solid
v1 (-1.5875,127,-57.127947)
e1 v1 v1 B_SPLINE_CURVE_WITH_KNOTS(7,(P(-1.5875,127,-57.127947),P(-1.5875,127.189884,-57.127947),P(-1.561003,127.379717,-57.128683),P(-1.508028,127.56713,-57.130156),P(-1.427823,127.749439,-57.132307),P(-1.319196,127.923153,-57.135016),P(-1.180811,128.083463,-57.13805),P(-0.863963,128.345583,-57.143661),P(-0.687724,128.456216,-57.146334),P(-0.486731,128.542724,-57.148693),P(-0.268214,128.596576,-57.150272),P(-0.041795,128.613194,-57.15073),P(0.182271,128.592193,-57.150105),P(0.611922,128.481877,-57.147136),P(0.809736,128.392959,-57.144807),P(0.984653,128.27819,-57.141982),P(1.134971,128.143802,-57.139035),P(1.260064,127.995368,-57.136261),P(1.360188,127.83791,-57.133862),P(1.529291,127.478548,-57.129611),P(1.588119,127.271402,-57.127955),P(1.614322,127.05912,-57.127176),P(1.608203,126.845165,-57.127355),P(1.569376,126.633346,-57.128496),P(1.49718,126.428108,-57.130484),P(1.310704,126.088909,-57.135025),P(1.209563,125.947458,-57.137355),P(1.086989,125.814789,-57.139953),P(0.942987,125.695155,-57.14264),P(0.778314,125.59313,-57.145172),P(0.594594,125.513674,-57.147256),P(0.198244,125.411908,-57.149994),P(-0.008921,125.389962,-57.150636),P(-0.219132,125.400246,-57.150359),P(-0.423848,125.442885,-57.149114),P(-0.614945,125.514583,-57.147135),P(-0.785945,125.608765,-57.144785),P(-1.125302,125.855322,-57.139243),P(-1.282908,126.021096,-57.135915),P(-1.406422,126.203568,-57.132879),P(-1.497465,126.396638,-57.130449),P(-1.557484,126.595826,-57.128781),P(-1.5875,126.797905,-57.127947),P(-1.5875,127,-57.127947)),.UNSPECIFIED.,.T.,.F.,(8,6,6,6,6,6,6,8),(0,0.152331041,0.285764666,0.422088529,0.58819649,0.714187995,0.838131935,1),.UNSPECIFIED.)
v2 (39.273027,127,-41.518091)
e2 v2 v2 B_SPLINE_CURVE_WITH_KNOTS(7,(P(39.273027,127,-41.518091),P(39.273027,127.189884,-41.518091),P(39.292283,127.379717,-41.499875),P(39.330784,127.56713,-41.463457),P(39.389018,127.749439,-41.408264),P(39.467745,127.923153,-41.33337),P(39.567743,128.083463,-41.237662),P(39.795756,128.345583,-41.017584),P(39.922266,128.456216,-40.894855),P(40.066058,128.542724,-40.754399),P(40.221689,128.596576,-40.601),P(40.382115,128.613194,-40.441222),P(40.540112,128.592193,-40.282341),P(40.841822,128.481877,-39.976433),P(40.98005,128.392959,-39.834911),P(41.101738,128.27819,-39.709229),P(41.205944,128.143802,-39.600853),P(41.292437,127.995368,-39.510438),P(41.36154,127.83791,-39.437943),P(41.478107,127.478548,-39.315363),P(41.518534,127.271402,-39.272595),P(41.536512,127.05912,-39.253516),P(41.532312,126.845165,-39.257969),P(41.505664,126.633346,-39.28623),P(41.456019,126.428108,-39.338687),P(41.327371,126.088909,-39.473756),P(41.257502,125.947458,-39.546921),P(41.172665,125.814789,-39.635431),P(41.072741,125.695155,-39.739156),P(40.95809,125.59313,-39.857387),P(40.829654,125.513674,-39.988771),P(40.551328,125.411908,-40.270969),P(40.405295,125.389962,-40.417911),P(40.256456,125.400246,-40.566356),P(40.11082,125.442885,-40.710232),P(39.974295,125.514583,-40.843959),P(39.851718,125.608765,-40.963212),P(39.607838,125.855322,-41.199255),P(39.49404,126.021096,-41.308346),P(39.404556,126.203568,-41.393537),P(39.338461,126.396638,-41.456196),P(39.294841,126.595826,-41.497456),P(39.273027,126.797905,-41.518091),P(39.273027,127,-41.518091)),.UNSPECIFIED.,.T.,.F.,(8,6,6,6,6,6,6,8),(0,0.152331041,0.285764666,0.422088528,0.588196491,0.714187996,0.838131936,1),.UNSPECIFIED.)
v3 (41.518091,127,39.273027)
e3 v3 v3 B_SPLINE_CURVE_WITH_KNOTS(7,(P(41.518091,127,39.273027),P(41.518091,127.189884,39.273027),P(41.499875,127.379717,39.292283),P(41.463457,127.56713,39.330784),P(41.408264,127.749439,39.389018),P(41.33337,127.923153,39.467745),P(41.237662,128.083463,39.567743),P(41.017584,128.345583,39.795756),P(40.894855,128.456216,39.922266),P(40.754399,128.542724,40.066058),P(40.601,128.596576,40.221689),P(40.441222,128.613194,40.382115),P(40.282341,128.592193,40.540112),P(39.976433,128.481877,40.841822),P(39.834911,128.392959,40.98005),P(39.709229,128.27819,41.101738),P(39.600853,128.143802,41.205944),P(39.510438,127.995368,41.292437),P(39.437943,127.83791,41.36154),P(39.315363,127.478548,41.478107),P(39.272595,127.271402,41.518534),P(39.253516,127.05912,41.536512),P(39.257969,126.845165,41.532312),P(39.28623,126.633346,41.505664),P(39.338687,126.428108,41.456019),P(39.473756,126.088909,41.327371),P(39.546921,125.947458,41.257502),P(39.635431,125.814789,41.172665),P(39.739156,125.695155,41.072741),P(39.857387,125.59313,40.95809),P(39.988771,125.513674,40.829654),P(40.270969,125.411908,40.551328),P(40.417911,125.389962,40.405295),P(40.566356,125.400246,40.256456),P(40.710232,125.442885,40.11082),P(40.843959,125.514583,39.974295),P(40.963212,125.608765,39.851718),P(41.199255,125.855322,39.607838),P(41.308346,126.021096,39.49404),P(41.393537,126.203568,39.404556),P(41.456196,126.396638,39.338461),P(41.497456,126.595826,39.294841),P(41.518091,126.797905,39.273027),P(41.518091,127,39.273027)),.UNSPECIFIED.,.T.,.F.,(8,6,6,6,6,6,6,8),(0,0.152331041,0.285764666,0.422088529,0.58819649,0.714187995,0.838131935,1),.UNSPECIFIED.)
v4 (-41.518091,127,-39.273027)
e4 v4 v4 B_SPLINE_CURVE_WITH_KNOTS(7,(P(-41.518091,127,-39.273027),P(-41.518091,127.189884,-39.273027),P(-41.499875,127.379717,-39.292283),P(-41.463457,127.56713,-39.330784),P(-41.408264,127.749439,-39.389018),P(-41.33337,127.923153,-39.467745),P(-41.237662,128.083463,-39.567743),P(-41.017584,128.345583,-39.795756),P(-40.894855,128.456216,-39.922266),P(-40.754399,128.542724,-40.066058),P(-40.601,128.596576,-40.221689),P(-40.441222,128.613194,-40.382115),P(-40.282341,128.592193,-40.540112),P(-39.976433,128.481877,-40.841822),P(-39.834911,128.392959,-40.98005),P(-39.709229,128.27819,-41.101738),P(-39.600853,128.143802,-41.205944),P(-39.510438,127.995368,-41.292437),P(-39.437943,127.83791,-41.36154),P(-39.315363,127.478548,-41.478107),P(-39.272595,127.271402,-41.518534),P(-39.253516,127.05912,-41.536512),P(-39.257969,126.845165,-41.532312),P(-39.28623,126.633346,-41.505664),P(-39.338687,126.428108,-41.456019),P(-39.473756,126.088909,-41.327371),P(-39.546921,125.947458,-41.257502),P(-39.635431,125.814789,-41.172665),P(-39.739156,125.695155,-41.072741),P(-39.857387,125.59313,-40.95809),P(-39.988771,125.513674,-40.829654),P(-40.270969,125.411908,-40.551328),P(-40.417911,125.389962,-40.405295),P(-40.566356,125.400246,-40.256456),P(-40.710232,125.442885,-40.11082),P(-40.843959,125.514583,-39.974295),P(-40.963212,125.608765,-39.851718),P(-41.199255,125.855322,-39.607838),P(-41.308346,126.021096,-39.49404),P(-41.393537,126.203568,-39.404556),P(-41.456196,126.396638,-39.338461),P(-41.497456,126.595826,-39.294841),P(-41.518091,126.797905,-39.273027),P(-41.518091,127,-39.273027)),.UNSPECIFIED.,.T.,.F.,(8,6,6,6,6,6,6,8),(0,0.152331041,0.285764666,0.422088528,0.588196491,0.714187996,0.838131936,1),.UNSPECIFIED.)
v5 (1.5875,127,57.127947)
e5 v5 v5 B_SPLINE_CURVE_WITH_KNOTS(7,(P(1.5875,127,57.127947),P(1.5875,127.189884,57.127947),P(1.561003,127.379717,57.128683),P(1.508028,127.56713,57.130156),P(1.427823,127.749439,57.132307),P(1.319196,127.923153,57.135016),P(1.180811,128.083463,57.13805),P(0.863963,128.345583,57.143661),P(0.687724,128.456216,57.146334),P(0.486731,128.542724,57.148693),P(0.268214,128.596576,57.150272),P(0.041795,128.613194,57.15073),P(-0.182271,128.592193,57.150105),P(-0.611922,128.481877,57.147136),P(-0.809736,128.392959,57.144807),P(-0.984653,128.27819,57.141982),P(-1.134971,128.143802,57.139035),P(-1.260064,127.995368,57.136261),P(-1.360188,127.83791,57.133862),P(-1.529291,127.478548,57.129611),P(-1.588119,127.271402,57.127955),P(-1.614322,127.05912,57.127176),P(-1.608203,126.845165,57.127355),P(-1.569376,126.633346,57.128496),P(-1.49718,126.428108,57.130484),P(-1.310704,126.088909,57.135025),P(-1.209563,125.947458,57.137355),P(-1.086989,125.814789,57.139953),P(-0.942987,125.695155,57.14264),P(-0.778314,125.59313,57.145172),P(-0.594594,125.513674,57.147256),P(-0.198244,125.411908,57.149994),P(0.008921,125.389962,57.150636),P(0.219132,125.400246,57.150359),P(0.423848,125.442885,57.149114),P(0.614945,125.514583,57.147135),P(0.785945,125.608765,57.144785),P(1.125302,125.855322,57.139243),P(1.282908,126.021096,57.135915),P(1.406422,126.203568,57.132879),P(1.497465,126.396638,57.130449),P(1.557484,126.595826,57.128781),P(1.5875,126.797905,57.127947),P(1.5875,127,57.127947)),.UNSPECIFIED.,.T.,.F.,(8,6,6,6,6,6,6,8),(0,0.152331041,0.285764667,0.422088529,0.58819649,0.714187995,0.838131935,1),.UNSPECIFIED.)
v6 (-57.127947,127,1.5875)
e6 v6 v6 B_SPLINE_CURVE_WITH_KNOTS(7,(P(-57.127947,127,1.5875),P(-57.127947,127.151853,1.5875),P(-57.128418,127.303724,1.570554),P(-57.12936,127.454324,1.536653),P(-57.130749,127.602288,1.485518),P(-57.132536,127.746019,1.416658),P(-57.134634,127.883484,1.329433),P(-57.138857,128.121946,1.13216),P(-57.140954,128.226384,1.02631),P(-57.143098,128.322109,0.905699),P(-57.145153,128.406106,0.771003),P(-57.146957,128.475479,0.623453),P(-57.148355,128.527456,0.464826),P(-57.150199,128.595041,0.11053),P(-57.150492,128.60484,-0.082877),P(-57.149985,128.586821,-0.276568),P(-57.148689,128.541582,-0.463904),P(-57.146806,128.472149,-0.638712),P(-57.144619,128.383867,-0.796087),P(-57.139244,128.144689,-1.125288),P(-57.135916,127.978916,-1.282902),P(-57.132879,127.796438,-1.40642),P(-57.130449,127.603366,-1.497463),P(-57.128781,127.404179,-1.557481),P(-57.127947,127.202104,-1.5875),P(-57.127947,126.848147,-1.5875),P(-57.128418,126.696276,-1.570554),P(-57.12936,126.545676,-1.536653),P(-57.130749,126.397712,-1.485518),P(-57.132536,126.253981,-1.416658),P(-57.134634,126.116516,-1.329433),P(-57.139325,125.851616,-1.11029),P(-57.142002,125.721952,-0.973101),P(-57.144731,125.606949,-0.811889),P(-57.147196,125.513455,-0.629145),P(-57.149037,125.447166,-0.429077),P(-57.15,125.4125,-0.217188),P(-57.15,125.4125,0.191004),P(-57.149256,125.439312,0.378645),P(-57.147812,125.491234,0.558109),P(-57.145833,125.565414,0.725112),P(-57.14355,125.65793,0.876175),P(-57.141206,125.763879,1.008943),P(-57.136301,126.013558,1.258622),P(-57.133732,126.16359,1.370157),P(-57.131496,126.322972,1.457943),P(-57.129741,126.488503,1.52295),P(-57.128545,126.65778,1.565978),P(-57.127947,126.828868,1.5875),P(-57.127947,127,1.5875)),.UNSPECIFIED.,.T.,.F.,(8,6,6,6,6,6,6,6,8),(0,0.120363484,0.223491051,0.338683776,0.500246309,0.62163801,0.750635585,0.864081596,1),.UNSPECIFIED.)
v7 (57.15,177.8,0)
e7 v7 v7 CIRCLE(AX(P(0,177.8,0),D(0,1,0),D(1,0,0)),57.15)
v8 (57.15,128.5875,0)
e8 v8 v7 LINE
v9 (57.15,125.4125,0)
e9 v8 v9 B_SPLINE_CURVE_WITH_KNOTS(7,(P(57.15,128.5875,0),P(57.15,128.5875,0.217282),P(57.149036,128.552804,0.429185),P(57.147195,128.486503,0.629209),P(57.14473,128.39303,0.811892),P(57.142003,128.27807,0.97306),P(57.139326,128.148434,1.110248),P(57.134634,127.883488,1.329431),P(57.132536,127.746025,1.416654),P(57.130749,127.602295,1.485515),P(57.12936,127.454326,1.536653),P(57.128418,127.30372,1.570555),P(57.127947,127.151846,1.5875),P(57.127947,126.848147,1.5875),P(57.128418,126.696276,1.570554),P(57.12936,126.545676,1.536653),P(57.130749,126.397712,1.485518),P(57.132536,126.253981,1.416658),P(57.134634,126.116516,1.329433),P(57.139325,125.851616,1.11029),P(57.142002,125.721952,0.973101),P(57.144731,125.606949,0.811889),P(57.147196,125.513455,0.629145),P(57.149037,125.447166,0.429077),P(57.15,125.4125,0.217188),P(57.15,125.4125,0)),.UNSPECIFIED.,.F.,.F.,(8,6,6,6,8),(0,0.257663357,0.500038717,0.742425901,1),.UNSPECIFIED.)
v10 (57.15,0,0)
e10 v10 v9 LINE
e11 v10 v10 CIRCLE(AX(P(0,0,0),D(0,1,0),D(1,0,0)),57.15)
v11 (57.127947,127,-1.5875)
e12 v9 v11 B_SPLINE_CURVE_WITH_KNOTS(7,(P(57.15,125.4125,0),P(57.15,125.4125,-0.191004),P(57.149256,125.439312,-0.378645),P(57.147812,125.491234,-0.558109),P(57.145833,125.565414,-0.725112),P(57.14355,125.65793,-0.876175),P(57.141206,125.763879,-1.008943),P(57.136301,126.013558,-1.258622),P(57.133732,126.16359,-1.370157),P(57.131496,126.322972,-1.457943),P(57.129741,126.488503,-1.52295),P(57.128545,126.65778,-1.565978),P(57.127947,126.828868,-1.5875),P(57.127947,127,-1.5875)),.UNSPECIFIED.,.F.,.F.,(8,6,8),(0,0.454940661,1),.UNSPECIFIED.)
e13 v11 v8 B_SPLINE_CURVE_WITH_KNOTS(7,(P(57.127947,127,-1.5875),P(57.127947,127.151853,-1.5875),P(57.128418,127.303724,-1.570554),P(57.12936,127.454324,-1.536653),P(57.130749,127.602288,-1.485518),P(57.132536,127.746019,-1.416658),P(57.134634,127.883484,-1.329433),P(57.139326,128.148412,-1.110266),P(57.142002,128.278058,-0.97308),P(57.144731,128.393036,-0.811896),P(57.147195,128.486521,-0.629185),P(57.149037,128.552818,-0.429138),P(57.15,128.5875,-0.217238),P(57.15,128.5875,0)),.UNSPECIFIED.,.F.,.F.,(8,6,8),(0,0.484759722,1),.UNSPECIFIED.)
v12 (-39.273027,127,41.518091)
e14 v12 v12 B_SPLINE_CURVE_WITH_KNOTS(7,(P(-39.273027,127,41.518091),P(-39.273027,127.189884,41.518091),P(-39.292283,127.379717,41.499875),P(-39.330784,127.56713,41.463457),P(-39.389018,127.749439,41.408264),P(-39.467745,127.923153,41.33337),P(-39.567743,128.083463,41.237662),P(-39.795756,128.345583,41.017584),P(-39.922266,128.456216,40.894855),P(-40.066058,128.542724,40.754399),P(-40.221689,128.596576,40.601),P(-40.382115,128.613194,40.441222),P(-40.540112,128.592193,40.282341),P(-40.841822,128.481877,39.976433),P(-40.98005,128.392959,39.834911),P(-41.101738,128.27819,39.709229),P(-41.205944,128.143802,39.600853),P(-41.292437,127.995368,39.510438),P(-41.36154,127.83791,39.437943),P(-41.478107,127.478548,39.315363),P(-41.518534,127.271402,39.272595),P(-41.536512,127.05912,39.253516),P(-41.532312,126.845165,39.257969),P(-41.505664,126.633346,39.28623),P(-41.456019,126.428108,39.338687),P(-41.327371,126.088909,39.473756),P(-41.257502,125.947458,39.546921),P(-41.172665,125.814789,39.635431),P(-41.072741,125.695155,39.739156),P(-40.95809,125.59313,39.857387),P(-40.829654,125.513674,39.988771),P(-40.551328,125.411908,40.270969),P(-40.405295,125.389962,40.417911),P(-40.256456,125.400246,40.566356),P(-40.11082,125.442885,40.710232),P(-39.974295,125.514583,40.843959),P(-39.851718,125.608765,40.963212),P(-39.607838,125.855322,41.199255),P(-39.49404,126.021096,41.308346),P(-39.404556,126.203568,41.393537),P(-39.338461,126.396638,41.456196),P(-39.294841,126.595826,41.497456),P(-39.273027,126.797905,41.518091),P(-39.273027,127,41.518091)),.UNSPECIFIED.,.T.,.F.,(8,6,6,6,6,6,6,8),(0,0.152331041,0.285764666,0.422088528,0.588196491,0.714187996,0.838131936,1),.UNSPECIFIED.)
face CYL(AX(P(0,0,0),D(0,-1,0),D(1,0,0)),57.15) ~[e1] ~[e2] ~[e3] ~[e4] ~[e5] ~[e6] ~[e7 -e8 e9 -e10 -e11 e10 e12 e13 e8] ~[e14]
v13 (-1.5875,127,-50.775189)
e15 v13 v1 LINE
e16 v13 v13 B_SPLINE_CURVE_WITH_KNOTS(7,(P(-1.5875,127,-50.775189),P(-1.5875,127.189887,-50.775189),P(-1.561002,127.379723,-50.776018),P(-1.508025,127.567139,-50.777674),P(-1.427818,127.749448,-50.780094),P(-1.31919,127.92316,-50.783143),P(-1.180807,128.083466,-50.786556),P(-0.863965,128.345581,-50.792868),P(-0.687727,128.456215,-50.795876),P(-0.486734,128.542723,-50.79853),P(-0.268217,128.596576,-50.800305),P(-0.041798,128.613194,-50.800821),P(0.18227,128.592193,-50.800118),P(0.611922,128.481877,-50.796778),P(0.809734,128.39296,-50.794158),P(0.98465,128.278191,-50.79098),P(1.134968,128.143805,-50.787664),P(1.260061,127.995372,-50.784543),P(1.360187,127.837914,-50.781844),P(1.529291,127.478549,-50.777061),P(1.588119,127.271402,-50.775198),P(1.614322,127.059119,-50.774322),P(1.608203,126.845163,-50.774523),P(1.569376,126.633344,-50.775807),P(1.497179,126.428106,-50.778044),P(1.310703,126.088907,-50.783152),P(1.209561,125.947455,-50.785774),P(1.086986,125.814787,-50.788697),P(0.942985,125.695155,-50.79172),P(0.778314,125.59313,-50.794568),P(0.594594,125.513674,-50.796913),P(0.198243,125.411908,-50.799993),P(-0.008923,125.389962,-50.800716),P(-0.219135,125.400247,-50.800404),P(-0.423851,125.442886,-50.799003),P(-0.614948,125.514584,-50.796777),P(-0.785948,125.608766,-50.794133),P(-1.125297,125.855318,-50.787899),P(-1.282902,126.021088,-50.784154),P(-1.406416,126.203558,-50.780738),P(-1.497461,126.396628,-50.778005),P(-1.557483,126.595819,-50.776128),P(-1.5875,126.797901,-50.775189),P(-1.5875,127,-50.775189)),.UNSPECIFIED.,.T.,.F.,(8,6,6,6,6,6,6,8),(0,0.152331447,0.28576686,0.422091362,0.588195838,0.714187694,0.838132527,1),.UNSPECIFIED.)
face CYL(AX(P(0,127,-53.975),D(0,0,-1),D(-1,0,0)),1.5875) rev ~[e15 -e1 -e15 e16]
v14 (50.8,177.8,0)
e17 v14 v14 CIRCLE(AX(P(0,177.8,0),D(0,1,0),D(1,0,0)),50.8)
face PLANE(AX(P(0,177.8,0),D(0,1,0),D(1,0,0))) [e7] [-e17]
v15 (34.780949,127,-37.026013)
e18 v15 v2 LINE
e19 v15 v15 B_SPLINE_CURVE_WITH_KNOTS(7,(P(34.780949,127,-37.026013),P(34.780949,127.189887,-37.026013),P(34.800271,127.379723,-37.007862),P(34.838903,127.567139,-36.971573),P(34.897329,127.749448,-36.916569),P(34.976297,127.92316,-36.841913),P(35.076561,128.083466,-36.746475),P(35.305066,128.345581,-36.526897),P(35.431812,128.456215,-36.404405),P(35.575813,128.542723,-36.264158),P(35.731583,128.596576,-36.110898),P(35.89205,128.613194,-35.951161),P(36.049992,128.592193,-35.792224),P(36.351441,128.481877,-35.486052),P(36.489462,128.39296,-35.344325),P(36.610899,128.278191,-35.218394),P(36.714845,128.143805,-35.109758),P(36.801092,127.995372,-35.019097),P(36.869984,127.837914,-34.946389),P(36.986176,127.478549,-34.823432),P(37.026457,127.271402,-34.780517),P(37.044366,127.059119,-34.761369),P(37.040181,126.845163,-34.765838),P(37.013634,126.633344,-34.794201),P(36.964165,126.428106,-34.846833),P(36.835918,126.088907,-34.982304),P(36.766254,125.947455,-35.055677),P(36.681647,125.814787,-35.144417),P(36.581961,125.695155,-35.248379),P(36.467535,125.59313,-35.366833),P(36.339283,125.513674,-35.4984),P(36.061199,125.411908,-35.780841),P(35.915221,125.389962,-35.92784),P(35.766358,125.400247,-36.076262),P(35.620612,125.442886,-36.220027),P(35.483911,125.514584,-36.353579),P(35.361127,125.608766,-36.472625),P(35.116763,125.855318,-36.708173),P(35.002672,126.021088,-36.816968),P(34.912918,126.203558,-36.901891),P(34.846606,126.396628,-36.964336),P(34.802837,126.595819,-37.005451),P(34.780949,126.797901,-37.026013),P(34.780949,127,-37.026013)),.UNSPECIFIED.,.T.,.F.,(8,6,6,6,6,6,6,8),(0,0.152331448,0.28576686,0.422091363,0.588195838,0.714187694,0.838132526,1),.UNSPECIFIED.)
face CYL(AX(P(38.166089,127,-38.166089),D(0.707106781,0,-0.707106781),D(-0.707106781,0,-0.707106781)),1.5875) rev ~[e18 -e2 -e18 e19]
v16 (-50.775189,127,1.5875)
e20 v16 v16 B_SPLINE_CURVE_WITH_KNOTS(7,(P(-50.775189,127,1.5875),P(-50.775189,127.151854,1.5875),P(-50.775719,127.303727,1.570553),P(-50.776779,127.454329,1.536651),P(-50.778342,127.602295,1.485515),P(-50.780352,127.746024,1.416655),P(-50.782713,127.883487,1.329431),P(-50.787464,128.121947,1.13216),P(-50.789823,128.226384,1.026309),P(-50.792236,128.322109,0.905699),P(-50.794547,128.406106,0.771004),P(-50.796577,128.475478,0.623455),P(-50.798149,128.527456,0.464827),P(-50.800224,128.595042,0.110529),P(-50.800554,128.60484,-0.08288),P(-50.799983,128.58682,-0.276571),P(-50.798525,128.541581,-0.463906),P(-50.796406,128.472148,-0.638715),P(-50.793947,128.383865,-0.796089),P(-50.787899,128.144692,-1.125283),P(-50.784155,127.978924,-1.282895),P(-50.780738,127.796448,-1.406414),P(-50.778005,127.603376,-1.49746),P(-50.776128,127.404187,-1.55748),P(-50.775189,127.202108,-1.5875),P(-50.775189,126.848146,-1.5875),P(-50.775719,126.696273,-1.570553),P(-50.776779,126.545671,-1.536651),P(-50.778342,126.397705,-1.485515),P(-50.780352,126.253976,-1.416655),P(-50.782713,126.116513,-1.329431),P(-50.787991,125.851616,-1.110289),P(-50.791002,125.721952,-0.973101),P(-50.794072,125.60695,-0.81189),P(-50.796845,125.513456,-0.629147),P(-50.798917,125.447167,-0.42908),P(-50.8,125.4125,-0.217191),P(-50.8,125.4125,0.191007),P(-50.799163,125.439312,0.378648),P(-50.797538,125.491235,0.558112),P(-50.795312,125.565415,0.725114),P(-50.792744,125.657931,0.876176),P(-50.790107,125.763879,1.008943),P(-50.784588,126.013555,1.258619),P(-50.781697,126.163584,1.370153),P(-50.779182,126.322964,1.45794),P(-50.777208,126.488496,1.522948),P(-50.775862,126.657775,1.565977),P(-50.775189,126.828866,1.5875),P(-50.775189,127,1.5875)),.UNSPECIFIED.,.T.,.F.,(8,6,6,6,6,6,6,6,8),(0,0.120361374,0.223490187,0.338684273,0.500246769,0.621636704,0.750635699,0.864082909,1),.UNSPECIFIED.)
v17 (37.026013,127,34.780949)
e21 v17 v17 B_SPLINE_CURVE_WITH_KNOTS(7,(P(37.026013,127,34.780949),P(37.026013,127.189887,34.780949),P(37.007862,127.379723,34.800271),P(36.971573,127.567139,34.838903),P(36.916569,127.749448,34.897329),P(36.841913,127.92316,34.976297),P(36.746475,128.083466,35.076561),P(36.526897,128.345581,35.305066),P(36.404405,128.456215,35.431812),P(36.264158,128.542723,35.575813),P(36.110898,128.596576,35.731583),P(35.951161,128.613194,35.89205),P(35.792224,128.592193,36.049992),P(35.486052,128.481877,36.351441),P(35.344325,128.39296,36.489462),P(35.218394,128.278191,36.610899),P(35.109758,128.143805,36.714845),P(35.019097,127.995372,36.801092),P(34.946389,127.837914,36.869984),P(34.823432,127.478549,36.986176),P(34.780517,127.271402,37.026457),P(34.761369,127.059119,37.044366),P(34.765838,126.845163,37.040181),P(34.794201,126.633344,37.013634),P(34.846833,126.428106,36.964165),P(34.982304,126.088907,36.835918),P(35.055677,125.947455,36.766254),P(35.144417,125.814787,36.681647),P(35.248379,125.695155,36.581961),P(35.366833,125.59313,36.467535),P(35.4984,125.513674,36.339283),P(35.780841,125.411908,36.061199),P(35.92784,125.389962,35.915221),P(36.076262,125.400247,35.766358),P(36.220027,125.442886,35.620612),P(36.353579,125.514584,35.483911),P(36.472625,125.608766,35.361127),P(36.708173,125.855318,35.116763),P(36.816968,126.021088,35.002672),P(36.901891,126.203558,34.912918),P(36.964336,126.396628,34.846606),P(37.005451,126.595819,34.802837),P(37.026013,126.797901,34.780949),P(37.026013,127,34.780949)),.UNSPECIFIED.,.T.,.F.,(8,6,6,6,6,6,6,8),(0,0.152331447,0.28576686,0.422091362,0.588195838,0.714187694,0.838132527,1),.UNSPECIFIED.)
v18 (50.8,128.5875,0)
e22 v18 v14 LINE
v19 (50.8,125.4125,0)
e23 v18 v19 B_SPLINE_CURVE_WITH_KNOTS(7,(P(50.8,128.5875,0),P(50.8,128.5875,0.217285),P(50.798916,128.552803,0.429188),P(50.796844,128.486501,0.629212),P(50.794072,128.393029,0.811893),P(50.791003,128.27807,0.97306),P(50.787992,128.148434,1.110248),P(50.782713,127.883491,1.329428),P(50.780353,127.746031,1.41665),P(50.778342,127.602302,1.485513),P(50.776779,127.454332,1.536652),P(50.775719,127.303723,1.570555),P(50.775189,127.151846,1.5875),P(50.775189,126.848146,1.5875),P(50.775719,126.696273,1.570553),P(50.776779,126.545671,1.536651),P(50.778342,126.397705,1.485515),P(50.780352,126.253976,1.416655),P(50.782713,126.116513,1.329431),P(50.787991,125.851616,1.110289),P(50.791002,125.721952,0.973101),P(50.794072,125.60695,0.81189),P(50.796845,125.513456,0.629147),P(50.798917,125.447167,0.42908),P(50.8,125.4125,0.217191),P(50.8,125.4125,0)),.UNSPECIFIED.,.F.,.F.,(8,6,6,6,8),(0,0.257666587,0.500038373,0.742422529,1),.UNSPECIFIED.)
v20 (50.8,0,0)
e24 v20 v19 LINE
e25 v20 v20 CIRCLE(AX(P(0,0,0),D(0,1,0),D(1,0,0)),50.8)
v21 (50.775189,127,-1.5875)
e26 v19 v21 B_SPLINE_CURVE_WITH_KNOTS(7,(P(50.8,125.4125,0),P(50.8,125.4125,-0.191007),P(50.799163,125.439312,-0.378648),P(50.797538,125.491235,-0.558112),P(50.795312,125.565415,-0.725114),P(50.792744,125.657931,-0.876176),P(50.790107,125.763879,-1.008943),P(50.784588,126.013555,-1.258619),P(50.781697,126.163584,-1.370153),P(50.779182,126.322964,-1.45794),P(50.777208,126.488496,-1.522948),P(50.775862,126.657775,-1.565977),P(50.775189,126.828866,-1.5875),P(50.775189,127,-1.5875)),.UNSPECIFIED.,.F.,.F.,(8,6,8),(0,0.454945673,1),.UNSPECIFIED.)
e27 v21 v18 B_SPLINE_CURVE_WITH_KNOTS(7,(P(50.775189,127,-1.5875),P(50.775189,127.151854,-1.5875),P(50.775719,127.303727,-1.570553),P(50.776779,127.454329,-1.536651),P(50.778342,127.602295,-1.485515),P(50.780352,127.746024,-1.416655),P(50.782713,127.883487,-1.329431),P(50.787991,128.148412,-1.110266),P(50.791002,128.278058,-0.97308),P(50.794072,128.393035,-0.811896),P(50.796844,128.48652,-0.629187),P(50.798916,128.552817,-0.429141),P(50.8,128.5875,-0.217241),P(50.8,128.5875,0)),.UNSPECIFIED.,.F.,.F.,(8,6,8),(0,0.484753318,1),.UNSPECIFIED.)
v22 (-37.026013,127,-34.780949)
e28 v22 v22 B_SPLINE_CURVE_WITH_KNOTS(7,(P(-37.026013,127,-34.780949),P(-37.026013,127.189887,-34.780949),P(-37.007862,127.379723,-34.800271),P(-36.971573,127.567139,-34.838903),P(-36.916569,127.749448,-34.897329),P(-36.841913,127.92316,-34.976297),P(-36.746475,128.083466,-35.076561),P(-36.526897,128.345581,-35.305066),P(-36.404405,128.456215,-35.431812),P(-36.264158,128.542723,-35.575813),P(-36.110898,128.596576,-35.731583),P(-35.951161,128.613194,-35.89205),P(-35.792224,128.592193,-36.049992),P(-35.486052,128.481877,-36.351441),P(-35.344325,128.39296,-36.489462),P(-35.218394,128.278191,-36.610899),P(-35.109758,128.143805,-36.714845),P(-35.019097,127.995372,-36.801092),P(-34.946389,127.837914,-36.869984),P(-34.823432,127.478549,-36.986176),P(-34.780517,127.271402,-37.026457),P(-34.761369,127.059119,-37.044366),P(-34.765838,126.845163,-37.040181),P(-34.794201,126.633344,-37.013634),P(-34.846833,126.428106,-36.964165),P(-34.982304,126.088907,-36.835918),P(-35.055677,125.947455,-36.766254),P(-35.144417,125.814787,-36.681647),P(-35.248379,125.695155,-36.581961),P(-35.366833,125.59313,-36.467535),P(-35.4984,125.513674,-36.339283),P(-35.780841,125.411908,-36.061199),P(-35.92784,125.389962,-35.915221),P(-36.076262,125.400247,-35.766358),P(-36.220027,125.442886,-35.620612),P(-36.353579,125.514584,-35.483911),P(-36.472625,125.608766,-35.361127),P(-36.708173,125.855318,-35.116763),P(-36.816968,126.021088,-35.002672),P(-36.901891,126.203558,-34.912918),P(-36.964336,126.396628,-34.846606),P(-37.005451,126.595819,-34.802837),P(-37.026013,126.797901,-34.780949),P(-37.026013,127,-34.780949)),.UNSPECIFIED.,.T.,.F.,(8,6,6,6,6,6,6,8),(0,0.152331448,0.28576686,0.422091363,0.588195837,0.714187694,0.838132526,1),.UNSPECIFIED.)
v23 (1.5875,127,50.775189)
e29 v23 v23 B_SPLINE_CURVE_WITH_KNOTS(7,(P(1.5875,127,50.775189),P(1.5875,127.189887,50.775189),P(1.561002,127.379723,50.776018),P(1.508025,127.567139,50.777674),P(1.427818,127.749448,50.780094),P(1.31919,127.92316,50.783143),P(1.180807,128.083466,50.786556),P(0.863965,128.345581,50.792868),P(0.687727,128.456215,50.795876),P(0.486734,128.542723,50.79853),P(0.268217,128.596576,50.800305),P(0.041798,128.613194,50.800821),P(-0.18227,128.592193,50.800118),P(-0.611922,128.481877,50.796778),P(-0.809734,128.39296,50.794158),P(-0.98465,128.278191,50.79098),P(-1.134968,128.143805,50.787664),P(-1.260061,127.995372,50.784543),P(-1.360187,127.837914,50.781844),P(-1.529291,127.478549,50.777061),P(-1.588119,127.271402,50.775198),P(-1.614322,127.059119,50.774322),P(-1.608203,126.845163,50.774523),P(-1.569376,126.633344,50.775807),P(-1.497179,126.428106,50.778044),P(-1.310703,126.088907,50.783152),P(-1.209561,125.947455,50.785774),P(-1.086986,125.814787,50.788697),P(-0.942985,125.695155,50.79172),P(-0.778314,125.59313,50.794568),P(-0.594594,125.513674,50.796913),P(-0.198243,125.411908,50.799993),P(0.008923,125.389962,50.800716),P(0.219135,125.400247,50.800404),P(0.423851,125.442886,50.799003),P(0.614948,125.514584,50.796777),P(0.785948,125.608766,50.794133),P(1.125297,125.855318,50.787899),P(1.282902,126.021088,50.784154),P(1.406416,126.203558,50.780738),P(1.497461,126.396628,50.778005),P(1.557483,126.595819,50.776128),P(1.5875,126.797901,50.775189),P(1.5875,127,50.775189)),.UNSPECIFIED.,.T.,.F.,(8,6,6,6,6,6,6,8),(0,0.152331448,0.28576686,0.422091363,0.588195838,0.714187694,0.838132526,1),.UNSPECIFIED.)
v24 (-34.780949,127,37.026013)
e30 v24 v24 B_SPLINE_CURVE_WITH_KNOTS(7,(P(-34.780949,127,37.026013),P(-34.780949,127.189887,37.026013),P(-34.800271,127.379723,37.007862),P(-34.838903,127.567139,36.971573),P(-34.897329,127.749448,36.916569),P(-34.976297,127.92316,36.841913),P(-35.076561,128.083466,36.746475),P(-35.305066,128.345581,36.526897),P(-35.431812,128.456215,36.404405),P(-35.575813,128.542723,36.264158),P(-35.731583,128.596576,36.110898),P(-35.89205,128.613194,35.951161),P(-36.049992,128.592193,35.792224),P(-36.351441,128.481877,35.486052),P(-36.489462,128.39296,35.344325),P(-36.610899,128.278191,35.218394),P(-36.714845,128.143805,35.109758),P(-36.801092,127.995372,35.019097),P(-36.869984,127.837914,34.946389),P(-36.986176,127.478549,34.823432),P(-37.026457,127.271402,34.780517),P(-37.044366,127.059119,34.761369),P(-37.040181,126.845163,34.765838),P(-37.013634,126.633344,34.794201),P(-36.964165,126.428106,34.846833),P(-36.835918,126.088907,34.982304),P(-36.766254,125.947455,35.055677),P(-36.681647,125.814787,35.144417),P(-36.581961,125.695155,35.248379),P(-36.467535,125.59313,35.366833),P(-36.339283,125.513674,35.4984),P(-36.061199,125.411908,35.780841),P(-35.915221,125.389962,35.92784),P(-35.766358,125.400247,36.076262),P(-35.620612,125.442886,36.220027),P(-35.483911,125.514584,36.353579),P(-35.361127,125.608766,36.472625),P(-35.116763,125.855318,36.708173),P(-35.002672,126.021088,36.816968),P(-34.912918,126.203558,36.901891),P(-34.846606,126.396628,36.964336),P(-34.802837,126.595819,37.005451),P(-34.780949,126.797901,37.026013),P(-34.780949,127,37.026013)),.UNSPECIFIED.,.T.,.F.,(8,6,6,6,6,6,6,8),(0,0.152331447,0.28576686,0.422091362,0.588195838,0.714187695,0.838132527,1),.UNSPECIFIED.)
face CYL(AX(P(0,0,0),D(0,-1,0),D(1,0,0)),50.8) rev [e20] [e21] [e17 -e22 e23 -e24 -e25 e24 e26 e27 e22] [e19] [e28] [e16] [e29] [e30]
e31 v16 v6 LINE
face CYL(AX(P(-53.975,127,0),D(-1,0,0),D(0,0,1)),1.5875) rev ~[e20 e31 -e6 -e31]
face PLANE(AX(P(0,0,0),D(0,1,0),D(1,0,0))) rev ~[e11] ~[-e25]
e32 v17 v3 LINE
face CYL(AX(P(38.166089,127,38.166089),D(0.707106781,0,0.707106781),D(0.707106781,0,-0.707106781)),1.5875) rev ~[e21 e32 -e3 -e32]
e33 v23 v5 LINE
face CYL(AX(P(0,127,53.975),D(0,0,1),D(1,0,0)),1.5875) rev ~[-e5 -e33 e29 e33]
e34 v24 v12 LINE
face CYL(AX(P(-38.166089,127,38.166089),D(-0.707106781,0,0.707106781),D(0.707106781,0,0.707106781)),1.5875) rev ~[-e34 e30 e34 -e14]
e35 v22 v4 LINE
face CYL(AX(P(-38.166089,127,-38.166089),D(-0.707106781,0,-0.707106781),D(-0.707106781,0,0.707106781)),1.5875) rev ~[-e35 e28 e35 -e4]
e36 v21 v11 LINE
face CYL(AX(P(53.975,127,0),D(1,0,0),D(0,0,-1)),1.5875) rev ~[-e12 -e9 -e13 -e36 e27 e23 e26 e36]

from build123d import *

# Parameters (mm, degrees)
SKETCH1_R           = 57.15
SKETCH1_R_2         = 50.8
BOSS_EXTRUDE1_DEPTH = 177.8
SKETCH3_R           = 1.5875
CUT_EXTRUDE1_DEPTH  = 6.35
CIRPATTERN1_COUNT   = 8


with BuildPart() as part:
    # Sketch1 → Boss-Extrude1 (new body)
    with BuildSketch(Plane(origin=(0, 0, 0), x_dir=(1, 0, 0), z_dir=(0, 1, 0))):
        Circle(SKETCH1_R)
        Circle(SKETCH1_R_2, mode=Mode.SUBTRACT)
    extrude(amount=BOSS_EXTRUDE1_DEPTH)

    # Sketch3 → Cut-Extrude1 (cut, symmetric)
    with BuildSketch(Plane.XY.offset(53.975)):
        with Locations((0, 127)):
            Circle(SKETCH3_R)
    cut_extrude1 = extrude(amount=CUT_EXTRUDE1_DEPTH, both=True, mode=Mode.SUBTRACT)

    # CirPattern1: Cut-Extrude1 ×8 about axis
    cirpattern1_axis = Axis((0, 177.8, 0), (0, 1, 0))
    for i in range(1, CIRPATTERN1_COUNT):
        add(cut_extrude1.rotate(cirpattern1_axis, i * 360 / CIRPATTERN1_COUNT), mode=Mode.SUBTRACT)


solid = part.part
